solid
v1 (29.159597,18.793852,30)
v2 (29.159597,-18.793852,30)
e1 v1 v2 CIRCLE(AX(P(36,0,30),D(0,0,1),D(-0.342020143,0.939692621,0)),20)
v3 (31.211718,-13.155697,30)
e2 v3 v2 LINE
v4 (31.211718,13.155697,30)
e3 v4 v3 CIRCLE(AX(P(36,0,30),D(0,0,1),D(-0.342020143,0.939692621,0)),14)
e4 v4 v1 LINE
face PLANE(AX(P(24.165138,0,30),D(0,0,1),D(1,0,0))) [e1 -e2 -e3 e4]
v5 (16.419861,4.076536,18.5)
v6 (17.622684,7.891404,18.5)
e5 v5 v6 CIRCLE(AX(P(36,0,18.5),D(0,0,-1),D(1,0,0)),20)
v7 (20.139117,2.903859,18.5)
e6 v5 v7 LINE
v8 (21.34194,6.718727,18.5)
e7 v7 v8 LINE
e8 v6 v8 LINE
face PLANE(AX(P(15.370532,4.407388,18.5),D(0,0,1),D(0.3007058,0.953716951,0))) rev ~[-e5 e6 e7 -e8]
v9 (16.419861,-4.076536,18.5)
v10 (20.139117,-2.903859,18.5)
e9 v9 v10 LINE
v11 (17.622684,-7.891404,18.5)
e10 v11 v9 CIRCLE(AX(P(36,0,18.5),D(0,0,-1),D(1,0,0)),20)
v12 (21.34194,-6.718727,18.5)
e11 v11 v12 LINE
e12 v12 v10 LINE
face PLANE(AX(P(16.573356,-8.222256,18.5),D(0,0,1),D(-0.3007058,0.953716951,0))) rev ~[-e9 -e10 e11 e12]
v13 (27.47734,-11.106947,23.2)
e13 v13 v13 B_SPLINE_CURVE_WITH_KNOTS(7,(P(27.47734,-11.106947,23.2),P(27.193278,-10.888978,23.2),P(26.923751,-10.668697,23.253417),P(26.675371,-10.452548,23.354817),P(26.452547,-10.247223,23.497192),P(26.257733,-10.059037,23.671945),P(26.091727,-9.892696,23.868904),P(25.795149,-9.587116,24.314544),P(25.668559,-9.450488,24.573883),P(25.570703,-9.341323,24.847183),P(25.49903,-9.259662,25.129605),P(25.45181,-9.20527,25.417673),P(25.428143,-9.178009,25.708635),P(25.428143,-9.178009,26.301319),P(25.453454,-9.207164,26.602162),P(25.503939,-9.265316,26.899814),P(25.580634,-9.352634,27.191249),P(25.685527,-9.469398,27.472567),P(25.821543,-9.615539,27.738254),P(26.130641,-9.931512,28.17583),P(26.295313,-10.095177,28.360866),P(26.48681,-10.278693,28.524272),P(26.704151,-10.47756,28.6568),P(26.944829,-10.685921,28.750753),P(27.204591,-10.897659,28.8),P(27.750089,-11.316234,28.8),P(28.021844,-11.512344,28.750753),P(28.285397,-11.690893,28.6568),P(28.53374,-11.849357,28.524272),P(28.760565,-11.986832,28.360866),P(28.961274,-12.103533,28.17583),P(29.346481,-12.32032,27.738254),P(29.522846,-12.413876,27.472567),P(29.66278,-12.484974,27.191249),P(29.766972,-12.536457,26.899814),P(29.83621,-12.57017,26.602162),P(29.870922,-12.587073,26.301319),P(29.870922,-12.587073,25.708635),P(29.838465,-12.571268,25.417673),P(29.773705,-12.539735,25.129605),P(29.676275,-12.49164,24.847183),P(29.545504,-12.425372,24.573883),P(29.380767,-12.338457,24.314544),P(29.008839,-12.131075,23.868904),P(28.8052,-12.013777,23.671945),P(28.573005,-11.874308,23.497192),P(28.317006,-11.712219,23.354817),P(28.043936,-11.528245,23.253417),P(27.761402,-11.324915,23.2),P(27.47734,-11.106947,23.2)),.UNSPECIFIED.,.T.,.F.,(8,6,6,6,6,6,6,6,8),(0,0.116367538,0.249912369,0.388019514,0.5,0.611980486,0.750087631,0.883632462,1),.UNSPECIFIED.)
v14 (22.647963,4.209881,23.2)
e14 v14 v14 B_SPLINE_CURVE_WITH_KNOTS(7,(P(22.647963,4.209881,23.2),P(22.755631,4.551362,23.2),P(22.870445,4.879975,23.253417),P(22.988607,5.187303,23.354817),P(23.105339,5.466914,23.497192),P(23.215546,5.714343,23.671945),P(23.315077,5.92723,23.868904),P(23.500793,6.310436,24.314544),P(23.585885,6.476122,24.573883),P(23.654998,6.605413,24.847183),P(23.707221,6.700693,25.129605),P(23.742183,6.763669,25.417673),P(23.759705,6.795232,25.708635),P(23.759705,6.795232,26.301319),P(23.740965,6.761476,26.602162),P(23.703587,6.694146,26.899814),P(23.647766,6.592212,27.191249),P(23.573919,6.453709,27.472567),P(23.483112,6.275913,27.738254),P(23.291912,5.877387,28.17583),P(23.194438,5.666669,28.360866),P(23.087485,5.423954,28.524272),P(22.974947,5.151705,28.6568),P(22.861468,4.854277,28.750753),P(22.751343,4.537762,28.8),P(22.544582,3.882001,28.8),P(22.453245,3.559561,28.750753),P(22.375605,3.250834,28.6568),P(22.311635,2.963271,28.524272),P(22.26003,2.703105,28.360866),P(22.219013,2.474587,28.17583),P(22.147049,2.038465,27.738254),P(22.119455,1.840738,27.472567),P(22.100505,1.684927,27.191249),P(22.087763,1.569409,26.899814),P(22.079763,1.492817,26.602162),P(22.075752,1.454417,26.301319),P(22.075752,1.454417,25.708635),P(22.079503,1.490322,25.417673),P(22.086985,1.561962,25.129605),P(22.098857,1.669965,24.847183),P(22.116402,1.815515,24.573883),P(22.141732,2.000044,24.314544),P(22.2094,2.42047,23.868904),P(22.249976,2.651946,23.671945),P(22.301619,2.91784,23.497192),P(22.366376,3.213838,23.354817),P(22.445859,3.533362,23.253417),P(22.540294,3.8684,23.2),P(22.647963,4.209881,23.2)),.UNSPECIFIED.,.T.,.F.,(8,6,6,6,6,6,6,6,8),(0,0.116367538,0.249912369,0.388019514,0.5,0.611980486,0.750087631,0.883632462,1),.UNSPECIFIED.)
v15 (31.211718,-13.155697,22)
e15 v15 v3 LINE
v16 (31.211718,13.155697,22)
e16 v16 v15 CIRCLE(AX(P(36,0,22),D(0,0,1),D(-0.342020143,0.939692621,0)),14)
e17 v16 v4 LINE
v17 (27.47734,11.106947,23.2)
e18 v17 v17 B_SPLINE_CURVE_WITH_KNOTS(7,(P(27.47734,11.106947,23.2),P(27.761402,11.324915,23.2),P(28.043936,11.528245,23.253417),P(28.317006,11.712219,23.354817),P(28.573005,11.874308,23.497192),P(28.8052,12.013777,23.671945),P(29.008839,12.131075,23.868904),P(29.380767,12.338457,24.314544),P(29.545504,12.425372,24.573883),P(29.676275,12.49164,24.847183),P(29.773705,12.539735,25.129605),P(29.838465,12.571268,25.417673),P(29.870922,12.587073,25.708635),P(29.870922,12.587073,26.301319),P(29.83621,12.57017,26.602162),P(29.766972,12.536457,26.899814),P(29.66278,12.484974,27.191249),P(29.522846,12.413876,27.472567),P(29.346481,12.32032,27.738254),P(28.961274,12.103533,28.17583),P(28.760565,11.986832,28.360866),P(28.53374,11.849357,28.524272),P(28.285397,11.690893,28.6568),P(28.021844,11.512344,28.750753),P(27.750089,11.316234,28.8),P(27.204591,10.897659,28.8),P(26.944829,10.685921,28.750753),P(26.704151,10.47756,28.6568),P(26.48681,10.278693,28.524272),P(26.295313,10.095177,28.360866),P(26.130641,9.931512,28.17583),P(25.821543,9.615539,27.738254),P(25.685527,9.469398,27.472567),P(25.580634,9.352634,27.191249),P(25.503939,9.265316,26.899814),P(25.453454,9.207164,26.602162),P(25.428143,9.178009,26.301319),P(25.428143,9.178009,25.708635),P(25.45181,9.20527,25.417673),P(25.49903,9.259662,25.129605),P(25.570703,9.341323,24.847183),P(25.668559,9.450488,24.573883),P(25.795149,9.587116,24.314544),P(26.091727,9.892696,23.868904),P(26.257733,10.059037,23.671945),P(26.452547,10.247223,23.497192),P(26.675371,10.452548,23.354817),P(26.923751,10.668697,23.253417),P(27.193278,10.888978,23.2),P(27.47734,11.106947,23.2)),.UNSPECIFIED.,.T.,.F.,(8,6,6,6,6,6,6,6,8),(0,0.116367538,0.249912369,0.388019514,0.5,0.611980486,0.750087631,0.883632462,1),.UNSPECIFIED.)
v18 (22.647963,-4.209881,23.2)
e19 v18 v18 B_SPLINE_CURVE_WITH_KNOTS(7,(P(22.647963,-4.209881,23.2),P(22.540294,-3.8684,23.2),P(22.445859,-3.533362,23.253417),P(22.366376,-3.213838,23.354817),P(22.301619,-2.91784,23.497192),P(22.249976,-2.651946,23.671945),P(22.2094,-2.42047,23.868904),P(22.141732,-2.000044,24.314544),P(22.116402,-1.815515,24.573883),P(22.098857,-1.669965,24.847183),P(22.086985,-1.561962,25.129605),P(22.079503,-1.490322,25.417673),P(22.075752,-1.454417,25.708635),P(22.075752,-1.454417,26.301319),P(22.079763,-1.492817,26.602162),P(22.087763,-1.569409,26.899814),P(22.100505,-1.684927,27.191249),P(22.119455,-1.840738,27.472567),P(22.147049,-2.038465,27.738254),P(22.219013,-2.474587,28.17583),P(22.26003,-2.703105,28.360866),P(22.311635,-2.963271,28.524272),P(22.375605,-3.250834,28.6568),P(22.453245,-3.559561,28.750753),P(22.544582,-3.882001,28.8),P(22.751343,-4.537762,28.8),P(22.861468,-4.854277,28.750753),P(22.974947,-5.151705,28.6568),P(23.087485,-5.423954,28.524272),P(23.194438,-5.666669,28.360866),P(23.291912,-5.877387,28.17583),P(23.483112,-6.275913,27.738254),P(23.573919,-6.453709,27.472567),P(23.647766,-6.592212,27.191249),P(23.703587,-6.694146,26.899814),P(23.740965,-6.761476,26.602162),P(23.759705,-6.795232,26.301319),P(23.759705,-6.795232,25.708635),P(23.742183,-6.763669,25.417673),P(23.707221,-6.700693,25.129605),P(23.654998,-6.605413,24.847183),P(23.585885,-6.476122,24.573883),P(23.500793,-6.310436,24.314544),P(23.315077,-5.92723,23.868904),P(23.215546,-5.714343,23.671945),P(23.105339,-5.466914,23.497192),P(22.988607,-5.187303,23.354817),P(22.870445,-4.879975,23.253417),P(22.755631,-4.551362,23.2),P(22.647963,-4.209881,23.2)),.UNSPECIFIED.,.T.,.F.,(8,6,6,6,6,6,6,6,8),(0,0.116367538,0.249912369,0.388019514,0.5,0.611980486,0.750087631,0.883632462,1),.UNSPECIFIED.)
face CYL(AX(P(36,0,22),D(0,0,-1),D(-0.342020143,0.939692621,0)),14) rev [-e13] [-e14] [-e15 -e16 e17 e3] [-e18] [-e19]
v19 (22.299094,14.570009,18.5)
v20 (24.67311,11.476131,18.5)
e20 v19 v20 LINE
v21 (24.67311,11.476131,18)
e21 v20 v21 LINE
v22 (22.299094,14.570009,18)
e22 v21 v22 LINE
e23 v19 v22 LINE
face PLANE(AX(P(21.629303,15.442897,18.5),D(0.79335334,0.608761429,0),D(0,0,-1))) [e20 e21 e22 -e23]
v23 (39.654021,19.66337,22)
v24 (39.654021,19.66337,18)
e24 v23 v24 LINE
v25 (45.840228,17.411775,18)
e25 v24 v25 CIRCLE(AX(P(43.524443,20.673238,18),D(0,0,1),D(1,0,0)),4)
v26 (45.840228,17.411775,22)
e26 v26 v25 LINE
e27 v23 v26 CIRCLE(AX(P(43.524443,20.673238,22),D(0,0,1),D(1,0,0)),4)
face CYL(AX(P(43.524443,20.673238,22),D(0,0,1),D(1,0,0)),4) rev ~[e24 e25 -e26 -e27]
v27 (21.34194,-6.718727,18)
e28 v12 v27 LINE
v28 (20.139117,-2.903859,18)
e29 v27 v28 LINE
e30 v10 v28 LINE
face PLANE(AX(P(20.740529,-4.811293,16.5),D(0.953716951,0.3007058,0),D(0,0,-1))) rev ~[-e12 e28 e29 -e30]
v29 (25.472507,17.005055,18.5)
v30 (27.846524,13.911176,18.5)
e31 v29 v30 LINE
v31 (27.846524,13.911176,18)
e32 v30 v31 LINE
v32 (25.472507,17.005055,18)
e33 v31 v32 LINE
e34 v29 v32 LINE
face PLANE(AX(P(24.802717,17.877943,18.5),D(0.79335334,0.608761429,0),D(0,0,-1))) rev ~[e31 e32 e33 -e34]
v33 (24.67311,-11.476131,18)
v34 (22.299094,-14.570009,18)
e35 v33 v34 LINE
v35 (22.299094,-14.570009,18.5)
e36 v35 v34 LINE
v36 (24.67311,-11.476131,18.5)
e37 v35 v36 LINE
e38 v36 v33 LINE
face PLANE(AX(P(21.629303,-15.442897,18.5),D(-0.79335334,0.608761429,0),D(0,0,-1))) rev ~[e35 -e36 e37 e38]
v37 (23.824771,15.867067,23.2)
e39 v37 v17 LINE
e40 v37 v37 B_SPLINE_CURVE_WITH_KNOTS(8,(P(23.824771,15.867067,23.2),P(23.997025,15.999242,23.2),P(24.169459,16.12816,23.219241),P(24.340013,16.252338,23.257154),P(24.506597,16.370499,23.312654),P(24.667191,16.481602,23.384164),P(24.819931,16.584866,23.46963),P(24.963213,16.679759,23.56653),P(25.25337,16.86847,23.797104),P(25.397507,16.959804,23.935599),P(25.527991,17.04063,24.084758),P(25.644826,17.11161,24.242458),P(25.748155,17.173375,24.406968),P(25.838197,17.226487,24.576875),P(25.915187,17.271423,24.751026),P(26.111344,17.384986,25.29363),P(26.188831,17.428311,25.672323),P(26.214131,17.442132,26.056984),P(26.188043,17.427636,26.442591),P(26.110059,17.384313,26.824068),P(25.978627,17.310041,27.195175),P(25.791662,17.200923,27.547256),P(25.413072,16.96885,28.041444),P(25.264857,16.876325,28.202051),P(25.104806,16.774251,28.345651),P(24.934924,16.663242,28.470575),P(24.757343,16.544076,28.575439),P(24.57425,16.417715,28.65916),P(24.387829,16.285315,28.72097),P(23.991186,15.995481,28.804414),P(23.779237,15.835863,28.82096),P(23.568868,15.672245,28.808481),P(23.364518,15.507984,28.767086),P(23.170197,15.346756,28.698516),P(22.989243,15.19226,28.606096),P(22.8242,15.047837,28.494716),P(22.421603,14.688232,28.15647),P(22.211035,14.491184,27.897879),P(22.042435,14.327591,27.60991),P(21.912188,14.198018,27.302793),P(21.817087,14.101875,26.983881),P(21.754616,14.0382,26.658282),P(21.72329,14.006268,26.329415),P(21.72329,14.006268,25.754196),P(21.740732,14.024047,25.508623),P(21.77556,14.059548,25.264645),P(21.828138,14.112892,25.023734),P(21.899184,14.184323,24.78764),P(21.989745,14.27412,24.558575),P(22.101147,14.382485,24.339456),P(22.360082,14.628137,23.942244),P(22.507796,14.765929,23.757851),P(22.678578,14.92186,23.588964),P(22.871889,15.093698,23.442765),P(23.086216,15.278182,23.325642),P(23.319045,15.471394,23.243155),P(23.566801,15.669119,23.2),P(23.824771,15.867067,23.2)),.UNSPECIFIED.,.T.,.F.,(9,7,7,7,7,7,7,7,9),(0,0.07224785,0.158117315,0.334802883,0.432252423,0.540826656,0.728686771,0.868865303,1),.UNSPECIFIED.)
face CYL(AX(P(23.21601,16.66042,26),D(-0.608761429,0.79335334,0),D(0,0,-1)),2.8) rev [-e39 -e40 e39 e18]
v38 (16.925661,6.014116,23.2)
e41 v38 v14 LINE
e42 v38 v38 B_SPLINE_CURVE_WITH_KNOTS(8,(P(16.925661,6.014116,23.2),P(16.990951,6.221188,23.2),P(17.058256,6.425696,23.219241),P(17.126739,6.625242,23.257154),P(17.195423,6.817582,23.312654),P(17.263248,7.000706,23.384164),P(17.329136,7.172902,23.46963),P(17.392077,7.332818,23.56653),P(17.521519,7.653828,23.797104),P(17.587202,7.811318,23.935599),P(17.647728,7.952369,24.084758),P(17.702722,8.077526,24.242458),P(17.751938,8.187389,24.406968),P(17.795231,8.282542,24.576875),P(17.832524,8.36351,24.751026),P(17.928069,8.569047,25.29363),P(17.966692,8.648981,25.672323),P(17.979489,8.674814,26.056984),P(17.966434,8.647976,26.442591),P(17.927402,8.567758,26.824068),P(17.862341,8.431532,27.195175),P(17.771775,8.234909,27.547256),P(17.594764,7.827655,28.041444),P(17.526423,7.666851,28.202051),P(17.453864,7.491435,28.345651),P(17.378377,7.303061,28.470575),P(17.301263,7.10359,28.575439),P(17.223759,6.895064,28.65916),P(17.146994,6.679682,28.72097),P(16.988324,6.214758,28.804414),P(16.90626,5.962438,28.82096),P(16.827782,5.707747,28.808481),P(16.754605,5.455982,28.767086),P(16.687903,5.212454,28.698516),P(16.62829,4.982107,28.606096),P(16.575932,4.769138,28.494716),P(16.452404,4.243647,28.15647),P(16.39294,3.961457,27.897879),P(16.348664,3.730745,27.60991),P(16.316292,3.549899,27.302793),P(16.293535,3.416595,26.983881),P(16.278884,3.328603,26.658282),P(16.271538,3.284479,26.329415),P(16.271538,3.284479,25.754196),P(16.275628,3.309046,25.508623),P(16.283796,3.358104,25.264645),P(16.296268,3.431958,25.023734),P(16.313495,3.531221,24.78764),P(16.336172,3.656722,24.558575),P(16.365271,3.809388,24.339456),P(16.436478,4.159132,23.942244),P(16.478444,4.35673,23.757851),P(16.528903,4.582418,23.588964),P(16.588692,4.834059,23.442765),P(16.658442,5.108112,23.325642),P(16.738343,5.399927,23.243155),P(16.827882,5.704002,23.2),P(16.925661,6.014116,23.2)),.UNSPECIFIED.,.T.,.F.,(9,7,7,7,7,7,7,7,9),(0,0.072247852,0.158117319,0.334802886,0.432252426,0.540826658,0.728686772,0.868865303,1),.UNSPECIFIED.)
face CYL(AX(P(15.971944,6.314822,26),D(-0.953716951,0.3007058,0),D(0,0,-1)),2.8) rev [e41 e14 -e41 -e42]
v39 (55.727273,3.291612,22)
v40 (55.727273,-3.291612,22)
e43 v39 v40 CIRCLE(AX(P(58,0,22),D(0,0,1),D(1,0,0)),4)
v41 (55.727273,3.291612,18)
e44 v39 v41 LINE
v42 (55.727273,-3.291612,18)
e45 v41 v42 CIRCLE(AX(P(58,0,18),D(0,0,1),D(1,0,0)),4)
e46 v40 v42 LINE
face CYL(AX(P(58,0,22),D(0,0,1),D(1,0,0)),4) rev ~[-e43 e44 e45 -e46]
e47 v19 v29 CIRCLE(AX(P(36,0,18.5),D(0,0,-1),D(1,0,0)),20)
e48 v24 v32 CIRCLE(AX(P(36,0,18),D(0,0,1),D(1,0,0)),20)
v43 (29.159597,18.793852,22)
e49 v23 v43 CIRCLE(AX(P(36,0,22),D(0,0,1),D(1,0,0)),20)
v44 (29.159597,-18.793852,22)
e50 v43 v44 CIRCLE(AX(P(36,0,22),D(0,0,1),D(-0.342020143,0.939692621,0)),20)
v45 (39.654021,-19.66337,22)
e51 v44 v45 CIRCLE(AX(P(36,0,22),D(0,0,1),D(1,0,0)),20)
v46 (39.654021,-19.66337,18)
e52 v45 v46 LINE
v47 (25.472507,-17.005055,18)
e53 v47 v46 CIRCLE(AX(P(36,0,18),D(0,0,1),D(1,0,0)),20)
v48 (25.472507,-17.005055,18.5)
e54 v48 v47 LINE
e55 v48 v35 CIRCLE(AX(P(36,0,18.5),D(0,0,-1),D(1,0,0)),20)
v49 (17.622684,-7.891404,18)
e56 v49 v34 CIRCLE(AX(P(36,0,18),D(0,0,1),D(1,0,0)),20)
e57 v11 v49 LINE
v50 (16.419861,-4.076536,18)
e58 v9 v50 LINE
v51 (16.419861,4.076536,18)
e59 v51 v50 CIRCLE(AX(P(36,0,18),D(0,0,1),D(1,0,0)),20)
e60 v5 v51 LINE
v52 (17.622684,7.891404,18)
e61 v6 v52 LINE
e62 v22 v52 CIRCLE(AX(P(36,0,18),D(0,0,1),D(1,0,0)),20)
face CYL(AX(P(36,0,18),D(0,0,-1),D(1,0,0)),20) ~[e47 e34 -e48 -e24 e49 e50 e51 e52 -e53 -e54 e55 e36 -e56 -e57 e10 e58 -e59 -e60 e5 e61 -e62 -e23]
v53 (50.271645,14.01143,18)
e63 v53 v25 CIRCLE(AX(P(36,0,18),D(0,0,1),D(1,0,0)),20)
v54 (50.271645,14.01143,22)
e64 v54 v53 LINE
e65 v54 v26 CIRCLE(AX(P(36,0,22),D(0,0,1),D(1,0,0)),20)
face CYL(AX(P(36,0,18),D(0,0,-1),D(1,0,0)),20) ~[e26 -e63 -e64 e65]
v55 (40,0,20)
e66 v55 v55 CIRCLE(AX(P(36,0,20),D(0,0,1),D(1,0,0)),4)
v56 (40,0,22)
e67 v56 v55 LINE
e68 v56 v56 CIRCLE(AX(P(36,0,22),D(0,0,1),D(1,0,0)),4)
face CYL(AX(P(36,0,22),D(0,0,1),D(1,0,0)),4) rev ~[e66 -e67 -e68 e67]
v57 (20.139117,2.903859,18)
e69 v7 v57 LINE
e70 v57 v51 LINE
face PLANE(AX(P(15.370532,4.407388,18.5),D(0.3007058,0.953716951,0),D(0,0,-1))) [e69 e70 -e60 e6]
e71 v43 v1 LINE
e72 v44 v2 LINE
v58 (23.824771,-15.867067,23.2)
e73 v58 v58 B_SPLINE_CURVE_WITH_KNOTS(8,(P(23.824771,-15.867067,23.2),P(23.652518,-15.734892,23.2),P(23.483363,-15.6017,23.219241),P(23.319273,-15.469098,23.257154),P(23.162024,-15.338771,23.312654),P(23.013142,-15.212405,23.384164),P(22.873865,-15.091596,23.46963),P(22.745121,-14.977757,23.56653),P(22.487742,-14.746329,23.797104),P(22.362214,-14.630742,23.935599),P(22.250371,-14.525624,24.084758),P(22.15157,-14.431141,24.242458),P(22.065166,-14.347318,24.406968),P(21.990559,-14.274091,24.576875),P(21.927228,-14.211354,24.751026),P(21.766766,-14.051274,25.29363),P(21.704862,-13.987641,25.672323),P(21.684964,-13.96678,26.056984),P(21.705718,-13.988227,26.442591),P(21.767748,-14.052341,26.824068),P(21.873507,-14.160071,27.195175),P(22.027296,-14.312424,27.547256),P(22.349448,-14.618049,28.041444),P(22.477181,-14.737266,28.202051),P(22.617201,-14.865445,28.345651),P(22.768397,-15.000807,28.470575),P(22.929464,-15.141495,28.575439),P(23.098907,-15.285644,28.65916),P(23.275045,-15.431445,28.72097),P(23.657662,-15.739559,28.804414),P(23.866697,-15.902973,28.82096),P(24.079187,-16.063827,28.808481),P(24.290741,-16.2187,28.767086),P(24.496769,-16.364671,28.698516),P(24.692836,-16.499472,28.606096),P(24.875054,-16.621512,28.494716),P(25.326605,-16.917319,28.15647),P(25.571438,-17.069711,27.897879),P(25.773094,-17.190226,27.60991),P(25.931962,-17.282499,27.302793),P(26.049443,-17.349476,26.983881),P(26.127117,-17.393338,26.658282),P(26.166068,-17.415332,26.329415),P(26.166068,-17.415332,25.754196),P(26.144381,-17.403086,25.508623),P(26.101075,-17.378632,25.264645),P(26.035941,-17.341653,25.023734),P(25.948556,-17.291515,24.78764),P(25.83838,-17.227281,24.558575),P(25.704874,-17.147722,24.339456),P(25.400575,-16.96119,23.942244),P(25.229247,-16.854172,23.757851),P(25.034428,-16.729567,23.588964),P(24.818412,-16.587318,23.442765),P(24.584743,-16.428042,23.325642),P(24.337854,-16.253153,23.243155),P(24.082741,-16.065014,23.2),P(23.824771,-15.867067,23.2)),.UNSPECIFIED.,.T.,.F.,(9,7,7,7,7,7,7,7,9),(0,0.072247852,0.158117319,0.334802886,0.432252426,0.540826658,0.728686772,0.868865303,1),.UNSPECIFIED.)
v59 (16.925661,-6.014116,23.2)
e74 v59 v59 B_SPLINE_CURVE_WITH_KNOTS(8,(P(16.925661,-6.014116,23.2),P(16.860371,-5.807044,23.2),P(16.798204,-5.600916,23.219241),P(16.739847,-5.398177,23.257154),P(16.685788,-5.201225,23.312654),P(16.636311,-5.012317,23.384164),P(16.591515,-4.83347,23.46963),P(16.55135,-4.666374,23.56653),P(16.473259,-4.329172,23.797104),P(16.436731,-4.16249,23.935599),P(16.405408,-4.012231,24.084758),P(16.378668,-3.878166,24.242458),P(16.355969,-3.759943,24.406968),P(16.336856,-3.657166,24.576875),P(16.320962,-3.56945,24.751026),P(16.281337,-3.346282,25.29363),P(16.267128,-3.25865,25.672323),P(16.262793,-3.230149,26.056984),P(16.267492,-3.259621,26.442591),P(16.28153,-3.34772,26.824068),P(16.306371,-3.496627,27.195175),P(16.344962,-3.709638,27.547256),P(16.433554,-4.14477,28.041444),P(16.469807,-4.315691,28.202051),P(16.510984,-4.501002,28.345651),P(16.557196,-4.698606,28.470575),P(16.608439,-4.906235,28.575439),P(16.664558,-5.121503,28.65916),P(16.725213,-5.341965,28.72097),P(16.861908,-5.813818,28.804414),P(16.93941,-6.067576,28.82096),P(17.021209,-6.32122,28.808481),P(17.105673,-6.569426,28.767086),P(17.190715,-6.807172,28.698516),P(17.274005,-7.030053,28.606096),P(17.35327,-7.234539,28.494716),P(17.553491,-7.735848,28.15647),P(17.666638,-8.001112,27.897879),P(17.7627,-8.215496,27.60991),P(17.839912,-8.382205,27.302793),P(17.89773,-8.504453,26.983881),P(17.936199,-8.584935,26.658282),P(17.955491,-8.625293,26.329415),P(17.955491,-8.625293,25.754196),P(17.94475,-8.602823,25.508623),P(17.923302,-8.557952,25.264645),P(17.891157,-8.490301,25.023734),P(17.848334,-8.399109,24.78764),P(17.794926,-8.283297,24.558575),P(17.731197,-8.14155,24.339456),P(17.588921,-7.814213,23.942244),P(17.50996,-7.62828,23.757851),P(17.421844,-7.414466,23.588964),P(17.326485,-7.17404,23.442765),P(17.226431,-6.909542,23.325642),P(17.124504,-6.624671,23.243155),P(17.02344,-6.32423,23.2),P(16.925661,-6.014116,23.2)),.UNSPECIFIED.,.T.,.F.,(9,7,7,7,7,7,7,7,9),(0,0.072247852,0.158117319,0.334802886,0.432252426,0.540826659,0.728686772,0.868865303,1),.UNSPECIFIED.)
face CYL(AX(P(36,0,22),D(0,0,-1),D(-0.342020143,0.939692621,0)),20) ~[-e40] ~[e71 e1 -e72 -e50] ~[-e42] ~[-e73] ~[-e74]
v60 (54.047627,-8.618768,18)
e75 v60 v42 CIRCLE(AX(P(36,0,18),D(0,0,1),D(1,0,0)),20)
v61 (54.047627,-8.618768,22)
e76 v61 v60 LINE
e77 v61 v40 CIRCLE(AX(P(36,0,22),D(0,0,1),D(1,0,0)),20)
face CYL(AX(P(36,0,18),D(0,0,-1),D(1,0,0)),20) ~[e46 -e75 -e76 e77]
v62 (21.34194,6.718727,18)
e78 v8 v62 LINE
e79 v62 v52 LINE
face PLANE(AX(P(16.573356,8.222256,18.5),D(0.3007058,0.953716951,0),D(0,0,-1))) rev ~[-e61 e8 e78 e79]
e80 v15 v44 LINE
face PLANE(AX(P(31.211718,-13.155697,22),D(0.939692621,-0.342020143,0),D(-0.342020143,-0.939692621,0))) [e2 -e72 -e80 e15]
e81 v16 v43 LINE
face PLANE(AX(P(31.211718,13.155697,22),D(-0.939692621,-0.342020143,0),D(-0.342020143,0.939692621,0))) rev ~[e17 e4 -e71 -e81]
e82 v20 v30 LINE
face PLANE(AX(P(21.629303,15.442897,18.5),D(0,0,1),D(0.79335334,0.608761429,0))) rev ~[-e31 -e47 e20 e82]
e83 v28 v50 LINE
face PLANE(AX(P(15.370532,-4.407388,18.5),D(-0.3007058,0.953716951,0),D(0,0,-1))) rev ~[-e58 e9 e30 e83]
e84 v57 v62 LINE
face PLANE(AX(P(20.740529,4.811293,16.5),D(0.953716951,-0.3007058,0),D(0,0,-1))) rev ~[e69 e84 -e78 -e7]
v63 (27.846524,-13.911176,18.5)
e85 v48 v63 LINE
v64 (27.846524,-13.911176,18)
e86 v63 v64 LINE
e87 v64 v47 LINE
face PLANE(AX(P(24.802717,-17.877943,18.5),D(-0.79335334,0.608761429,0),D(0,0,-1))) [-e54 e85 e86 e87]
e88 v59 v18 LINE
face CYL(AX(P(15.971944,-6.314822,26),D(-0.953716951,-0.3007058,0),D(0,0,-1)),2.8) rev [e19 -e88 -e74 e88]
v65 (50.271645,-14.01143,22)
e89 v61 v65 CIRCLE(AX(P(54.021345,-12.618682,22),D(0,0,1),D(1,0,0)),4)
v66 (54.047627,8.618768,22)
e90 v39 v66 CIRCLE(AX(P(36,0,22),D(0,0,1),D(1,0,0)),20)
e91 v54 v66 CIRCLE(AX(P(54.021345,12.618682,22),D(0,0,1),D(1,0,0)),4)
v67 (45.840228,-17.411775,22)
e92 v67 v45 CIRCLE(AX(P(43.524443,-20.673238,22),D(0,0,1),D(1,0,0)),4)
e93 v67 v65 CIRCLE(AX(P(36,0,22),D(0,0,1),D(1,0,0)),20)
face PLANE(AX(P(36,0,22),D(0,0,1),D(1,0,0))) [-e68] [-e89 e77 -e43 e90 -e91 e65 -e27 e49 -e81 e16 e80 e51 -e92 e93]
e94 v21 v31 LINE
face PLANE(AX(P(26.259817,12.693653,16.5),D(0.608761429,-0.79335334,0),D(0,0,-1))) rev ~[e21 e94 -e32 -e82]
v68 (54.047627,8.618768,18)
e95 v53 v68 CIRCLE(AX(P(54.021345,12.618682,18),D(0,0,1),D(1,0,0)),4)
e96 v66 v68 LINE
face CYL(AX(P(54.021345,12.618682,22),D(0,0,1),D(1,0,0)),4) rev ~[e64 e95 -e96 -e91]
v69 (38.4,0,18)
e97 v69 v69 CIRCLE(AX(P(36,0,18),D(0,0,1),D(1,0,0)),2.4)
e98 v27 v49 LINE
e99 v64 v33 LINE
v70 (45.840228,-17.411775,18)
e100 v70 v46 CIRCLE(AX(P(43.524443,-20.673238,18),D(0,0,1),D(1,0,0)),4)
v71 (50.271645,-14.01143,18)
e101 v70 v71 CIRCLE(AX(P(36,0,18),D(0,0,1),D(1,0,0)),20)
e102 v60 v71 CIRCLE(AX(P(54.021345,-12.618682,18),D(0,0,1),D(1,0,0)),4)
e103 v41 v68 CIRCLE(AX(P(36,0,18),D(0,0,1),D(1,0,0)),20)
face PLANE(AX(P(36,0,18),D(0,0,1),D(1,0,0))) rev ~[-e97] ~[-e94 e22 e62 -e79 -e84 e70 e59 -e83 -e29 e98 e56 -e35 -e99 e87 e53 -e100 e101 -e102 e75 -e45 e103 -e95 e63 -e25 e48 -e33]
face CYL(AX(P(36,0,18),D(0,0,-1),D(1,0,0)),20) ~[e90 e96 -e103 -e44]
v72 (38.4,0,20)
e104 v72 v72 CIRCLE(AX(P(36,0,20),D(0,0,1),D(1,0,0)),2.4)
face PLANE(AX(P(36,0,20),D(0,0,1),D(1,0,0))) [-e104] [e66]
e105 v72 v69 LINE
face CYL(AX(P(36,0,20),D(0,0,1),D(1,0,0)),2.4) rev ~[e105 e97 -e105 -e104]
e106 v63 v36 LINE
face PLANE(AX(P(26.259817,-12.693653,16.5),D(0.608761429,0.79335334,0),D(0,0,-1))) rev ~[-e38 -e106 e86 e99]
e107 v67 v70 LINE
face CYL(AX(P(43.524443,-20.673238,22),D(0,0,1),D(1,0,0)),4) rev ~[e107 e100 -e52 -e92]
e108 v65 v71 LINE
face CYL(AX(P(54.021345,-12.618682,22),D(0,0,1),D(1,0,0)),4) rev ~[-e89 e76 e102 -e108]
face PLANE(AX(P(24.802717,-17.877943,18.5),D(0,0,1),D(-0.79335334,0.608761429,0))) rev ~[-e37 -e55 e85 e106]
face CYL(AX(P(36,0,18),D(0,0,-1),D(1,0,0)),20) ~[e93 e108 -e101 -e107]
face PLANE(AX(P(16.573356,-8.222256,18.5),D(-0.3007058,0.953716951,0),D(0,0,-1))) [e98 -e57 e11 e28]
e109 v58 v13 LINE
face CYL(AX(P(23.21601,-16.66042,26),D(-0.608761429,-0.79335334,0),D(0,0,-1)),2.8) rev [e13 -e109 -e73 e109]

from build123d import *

# Parameters (mm, degrees)
BOX003_W                    = 4
BOX003_H                    = 4
BOX003_DEPTH                = 5
BOX003_PITCH_ANGLE          = 90
BOX003_PLACEMENT_ANGLE      = 17.5
BOX004_W                    = 4
BOX004_H                    = 4
BOX004_DEPTH                = 5
BOX004_PITCH_ANGLE          = 90
BOX004_PLACEMENT_ANGLE      = -17.5
BOX005_W                    = 4
BOX005_H                    = 4
BOX005_DEPTH                = 5
BOX005_PITCH_ANGLE          = 90
BOX005_PLACEMENT_ANGLE      = -52.5
BOX006_W                    = 4
BOX006_H                    = 4
BOX006_DEPTH                = 5
BOX006_PITCH_ANGLE          = 90
BOX006_PLACEMENT_ANGLE      = 52.5
CYLINDER004_R               = 2.8
CYLINDER004_DEPTH           = 10
CYLINDER004_PITCH_ANGLE     = 90
CYLINDER004_PLACEMENT_ANGLE = 17.5
CYLINDER005_R               = 2.8
CYLINDER005_DEPTH           = 10
CYLINDER005_PITCH_ANGLE     = 90
CYLINDER005_PLACEMENT_ANGLE = -17.5
CYLINDER006_R               = 2.8
CYLINDER006_DEPTH           = 10
CYLINDER006_PITCH_ANGLE     = 90
CYLINDER006_PLACEMENT_ANGLE = -52.5
CYLINDER007_R               = 2.8
CYLINDER007_DEPTH           = 10
CYLINDER007_PITCH_ANGLE     = 90
CYLINDER007_PLACEMENT_ANGLE = 52.5
SKETCH010_R                 = 20
PAD004_DEPTH                = 4
PAD005_DEPTH                = 8
SKETCH012_R                 = 4
POCKET006_DEPTH             = 2
SKETCH013_R                 = 2.4
POCKET007_DEPTH             = 2
SKETCH050_R                 = 4
POCKET023_DEPTH             = 5


with BuildPart() as box003:
    # Box003 → Box003 (new body)
    with BuildSketch(Plane.XY):
        with Locations((2, 2)):
            Rectangle(BOX003_W, BOX003_H)
    extrude(amount=BOX003_DEPTH)


with BuildPart() as box003_1:
    # Box003 pitch: moved
    add(box003.part.rotate(Axis((0, 0, 0), (0, 1, 0)), BOX003_PITCH_ANGLE))


with BuildPart() as box003_2:
    # Box003 placement: moved
    add(box003_1.part.moved(Location((16.5733556333, -8.2222556911, 18.5))).rotate(Axis((16.5733556333, -8.2222556911, 18.5), (0, 0, 1)), BOX003_PLACEMENT_ANGLE))


with BuildPart() as box004:
    # Box004 → Box004 (new body)
    with BuildSketch(Plane.XY):
        with Locations((2, 2)):
            Rectangle(BOX004_W, BOX004_H)
    extrude(amount=BOX004_DEPTH)


with BuildPart() as box004_1:
    # Box004 pitch: moved
    add(box004.part.rotate(Axis((0, 0, 0), (0, 1, 0)), BOX004_PITCH_ANGLE))


with BuildPart() as box004_2:
    # Box004 placement: moved
    add(box004_1.part.moved(Location((15.3705324353, 4.4073878881, 18.5))).rotate(Axis((15.3705324353, 4.4073878881, 18.5), (0, 0, 1)), BOX004_PLACEMENT_ANGLE))


with BuildPart() as box005:
    # Box005 → Box005 (new body)
    with BuildSketch(Plane.XY):
        with Locations((2, 2)):
            Rectangle(BOX005_W, BOX005_H)
    extrude(amount=BOX005_DEPTH)


with BuildPart() as box005_1:
    # Box005 pitch: moved
    add(box005.part.rotate(Axis((0, 0, 0), (0, 1, 0)), BOX005_PITCH_ANGLE))


with BuildPart() as box005_2:
    # Box005 placement: moved
    add(box005_1.part.moved(Location((21.6293033102, 15.4428972881, 18.5))).rotate(Axis((21.6293033102, 15.4428972881, 18.5), (0, 0, 1)), BOX005_PLACEMENT_ANGLE))


with BuildPart() as fusion:
    # Box006 → Box006 (new body)
    with BuildSketch(Plane.XY):
        with Locations((2, 2)):
            Rectangle(BOX006_W, BOX006_H)
    extrude(amount=BOX006_DEPTH)


with BuildPart() as fusion_1:
    # Box006 pitch: moved
    add(fusion.part.rotate(Axis((0, 0, 0), (0, 1, 0)), BOX006_PITCH_ANGLE))


with BuildPart() as fusion_2:
    # Box006 placement: moved
    add(fusion_1.part.moved(Location((24.8027166714, -17.8779430041, 18.5))).rotate(Axis((24.8027166714, -17.8779430041, 18.5), (0, 0, 1)), BOX006_PLACEMENT_ANGLE))

    # Fusion: union Box003, Box004, Box005
    add(box003_2.part)
    add(box004_2.part)
    add(box005_2.part)


with BuildPart() as cylinder004:
    # Cylinder004 → Cylinder004 (new body)
    with BuildSketch(Plane.XY):
        Circle(CYLINDER004_R)
    extrude(amount=CYLINDER004_DEPTH)


with BuildPart() as cylinder004_1:
    # Cylinder004 pitch: moved
    add(cylinder004.part.rotate(Axis((0, 0, 0), (0, 1, 0)), CYLINDER004_PITCH_ANGLE))


with BuildPart() as cylinder004_2:
    # Cylinder004 placement: moved
    add(cylinder004_1.part.moved(Location((15.9719440343, -6.3148217896, 26))).rotate(Axis((15.9719440343, -6.3148217896, 26), (0, 0, 1)), CYLINDER004_PLACEMENT_ANGLE))


with BuildPart() as cylinder005:
    # Cylinder005 → Cylinder005 (new body)
    with BuildSketch(Plane.XY):
        Circle(CYLINDER005_R)
    extrude(amount=CYLINDER005_DEPTH)


with BuildPart() as cylinder005_1:
    # Cylinder005 pitch: moved
    add(cylinder005.part.rotate(Axis((0, 0, 0), (0, 1, 0)), CYLINDER005_PITCH_ANGLE))


with BuildPart() as cylinder005_2:
    # Cylinder005 placement: moved
    add(cylinder005_1.part.moved(Location((15.9719440343, 6.3148217896, 26))).rotate(Axis((15.9719440343, 6.3148217896, 26), (0, 0, 1)), CYLINDER005_PLACEMENT_ANGLE))


with BuildPart() as cylinder006:
    # Cylinder006 → Cylinder006 (new body)
    with BuildSketch(Plane.XY):
        Circle(CYLINDER006_R)
    extrude(amount=CYLINDER006_DEPTH)


with BuildPart() as cylinder006_1:
    # Cylinder006 pitch: moved
    add(cylinder006.part.rotate(Axis((0, 0, 0), (0, 1, 0)), CYLINDER006_PITCH_ANGLE))


with BuildPart() as cylinder006_2:
    # Cylinder006 placement: moved
    add(cylinder006_1.part.moved(Location((23.2160099908, 16.6604201461, 26))).rotate(Axis((23.2160099908, 16.6604201461, 26), (0, 0, 1)), CYLINDER006_PLACEMENT_ANGLE))


with BuildPart() as fusion002:
    # Cylinder007 → Cylinder007 (new body)
    with BuildSketch(Plane.XY):
        Circle(CYLINDER007_R)
    extrude(amount=CYLINDER007_DEPTH)


with BuildPart() as fusion002_1:
    # Cylinder007 pitch: moved
    add(fusion002.part.rotate(Axis((0, 0, 0), (0, 1, 0)), CYLINDER007_PITCH_ANGLE))


with BuildPart() as fusion002_2:
    # Cylinder007 placement: moved
    add(fusion002_1.part.moved(Location((23.2160099908, -16.6604201461, 26))).rotate(Axis((23.2160099908, -16.6604201461, 26), (0, 0, 1)), CYLINDER007_PLACEMENT_ANGLE))

    # Fusion001: union Cylinder004, Cylinder005, Cylinder006
    add(cylinder004_2.part)
    add(cylinder005_2.part)
    add(cylinder006_2.part)


with BuildPart() as cut001:
    # Sketch010 (on Face1 of CopyPocket005) → Pad004 (new body)
    with BuildSketch(Plane.XY.offset(18)):
        with Locations((36, 0)):
            Circle(SKETCH010_R)
    extrude(amount=PAD004_DEPTH)

    # Sketch011 (on Face3 of Pad004) → Pad005 (join)
    with BuildSketch(Plane.XY.offset(22)):
        with BuildLine():
            ThreePointArc((29.1595971335, 18.7938524157), (16, 0), (29.1595971335, -18.7938524157))
            Line((31.2117179934, -13.155696691), (29.1595971335, -18.7938524157))
            ThreePointArc((31.2117179934, 13.155696691), (22, 0), (31.2117179934, -13.155696691))
            Line((31.2117179934, 13.155696691), (29.1595971335, 18.7938524157))
        make_face()
    extrude(amount=PAD005_DEPTH)

    # Sketch012 (on Face3 of Pad005) → Pocket006 (cut)
    with BuildSketch(Plane.XY.offset(22)):
        with Locations((36, 0)):
            Circle(SKETCH012_R)
    extrude(amount=-POCKET006_DEPTH, mode=Mode.SUBTRACT)

    # Sketch013 (on Face10 of Pocket006) → Pocket007 (cut)
    with BuildSketch(Plane.XY.offset(20)):
        with Locations((36, 0)):
            Circle(SKETCH013_R)
    extrude(amount=-POCKET007_DEPTH, mode=Mode.SUBTRACT)

    # Sketch050 (on Face4 of Pocket007) → Pocket023 (cut)
    with BuildSketch(Plane.XY.offset(22)):
        with Locations((43.5244431532, 20.6732376573)):
            Circle(SKETCH050_R)
        with Locations((54.0213449744, 12.6186815997)):
            Circle(SKETCH050_R)
        with Locations((58, 0)):
            Circle(SKETCH050_R)
        with Locations((54.0213449744, -12.6186815997)):
            Circle(SKETCH050_R)
        with Locations((43.5244431532, -20.6732376573)):
            Circle(SKETCH050_R)
    extrude(amount=-POCKET023_DEPTH, mode=Mode.SUBTRACT)

    # Cut: cut Fusion002
    add(fusion002_2.part, mode=Mode.SUBTRACT)

    # Cut001: cut Fusion
    add(fusion_2.part, mode=Mode.SUBTRACT)


solid = cut001.part
